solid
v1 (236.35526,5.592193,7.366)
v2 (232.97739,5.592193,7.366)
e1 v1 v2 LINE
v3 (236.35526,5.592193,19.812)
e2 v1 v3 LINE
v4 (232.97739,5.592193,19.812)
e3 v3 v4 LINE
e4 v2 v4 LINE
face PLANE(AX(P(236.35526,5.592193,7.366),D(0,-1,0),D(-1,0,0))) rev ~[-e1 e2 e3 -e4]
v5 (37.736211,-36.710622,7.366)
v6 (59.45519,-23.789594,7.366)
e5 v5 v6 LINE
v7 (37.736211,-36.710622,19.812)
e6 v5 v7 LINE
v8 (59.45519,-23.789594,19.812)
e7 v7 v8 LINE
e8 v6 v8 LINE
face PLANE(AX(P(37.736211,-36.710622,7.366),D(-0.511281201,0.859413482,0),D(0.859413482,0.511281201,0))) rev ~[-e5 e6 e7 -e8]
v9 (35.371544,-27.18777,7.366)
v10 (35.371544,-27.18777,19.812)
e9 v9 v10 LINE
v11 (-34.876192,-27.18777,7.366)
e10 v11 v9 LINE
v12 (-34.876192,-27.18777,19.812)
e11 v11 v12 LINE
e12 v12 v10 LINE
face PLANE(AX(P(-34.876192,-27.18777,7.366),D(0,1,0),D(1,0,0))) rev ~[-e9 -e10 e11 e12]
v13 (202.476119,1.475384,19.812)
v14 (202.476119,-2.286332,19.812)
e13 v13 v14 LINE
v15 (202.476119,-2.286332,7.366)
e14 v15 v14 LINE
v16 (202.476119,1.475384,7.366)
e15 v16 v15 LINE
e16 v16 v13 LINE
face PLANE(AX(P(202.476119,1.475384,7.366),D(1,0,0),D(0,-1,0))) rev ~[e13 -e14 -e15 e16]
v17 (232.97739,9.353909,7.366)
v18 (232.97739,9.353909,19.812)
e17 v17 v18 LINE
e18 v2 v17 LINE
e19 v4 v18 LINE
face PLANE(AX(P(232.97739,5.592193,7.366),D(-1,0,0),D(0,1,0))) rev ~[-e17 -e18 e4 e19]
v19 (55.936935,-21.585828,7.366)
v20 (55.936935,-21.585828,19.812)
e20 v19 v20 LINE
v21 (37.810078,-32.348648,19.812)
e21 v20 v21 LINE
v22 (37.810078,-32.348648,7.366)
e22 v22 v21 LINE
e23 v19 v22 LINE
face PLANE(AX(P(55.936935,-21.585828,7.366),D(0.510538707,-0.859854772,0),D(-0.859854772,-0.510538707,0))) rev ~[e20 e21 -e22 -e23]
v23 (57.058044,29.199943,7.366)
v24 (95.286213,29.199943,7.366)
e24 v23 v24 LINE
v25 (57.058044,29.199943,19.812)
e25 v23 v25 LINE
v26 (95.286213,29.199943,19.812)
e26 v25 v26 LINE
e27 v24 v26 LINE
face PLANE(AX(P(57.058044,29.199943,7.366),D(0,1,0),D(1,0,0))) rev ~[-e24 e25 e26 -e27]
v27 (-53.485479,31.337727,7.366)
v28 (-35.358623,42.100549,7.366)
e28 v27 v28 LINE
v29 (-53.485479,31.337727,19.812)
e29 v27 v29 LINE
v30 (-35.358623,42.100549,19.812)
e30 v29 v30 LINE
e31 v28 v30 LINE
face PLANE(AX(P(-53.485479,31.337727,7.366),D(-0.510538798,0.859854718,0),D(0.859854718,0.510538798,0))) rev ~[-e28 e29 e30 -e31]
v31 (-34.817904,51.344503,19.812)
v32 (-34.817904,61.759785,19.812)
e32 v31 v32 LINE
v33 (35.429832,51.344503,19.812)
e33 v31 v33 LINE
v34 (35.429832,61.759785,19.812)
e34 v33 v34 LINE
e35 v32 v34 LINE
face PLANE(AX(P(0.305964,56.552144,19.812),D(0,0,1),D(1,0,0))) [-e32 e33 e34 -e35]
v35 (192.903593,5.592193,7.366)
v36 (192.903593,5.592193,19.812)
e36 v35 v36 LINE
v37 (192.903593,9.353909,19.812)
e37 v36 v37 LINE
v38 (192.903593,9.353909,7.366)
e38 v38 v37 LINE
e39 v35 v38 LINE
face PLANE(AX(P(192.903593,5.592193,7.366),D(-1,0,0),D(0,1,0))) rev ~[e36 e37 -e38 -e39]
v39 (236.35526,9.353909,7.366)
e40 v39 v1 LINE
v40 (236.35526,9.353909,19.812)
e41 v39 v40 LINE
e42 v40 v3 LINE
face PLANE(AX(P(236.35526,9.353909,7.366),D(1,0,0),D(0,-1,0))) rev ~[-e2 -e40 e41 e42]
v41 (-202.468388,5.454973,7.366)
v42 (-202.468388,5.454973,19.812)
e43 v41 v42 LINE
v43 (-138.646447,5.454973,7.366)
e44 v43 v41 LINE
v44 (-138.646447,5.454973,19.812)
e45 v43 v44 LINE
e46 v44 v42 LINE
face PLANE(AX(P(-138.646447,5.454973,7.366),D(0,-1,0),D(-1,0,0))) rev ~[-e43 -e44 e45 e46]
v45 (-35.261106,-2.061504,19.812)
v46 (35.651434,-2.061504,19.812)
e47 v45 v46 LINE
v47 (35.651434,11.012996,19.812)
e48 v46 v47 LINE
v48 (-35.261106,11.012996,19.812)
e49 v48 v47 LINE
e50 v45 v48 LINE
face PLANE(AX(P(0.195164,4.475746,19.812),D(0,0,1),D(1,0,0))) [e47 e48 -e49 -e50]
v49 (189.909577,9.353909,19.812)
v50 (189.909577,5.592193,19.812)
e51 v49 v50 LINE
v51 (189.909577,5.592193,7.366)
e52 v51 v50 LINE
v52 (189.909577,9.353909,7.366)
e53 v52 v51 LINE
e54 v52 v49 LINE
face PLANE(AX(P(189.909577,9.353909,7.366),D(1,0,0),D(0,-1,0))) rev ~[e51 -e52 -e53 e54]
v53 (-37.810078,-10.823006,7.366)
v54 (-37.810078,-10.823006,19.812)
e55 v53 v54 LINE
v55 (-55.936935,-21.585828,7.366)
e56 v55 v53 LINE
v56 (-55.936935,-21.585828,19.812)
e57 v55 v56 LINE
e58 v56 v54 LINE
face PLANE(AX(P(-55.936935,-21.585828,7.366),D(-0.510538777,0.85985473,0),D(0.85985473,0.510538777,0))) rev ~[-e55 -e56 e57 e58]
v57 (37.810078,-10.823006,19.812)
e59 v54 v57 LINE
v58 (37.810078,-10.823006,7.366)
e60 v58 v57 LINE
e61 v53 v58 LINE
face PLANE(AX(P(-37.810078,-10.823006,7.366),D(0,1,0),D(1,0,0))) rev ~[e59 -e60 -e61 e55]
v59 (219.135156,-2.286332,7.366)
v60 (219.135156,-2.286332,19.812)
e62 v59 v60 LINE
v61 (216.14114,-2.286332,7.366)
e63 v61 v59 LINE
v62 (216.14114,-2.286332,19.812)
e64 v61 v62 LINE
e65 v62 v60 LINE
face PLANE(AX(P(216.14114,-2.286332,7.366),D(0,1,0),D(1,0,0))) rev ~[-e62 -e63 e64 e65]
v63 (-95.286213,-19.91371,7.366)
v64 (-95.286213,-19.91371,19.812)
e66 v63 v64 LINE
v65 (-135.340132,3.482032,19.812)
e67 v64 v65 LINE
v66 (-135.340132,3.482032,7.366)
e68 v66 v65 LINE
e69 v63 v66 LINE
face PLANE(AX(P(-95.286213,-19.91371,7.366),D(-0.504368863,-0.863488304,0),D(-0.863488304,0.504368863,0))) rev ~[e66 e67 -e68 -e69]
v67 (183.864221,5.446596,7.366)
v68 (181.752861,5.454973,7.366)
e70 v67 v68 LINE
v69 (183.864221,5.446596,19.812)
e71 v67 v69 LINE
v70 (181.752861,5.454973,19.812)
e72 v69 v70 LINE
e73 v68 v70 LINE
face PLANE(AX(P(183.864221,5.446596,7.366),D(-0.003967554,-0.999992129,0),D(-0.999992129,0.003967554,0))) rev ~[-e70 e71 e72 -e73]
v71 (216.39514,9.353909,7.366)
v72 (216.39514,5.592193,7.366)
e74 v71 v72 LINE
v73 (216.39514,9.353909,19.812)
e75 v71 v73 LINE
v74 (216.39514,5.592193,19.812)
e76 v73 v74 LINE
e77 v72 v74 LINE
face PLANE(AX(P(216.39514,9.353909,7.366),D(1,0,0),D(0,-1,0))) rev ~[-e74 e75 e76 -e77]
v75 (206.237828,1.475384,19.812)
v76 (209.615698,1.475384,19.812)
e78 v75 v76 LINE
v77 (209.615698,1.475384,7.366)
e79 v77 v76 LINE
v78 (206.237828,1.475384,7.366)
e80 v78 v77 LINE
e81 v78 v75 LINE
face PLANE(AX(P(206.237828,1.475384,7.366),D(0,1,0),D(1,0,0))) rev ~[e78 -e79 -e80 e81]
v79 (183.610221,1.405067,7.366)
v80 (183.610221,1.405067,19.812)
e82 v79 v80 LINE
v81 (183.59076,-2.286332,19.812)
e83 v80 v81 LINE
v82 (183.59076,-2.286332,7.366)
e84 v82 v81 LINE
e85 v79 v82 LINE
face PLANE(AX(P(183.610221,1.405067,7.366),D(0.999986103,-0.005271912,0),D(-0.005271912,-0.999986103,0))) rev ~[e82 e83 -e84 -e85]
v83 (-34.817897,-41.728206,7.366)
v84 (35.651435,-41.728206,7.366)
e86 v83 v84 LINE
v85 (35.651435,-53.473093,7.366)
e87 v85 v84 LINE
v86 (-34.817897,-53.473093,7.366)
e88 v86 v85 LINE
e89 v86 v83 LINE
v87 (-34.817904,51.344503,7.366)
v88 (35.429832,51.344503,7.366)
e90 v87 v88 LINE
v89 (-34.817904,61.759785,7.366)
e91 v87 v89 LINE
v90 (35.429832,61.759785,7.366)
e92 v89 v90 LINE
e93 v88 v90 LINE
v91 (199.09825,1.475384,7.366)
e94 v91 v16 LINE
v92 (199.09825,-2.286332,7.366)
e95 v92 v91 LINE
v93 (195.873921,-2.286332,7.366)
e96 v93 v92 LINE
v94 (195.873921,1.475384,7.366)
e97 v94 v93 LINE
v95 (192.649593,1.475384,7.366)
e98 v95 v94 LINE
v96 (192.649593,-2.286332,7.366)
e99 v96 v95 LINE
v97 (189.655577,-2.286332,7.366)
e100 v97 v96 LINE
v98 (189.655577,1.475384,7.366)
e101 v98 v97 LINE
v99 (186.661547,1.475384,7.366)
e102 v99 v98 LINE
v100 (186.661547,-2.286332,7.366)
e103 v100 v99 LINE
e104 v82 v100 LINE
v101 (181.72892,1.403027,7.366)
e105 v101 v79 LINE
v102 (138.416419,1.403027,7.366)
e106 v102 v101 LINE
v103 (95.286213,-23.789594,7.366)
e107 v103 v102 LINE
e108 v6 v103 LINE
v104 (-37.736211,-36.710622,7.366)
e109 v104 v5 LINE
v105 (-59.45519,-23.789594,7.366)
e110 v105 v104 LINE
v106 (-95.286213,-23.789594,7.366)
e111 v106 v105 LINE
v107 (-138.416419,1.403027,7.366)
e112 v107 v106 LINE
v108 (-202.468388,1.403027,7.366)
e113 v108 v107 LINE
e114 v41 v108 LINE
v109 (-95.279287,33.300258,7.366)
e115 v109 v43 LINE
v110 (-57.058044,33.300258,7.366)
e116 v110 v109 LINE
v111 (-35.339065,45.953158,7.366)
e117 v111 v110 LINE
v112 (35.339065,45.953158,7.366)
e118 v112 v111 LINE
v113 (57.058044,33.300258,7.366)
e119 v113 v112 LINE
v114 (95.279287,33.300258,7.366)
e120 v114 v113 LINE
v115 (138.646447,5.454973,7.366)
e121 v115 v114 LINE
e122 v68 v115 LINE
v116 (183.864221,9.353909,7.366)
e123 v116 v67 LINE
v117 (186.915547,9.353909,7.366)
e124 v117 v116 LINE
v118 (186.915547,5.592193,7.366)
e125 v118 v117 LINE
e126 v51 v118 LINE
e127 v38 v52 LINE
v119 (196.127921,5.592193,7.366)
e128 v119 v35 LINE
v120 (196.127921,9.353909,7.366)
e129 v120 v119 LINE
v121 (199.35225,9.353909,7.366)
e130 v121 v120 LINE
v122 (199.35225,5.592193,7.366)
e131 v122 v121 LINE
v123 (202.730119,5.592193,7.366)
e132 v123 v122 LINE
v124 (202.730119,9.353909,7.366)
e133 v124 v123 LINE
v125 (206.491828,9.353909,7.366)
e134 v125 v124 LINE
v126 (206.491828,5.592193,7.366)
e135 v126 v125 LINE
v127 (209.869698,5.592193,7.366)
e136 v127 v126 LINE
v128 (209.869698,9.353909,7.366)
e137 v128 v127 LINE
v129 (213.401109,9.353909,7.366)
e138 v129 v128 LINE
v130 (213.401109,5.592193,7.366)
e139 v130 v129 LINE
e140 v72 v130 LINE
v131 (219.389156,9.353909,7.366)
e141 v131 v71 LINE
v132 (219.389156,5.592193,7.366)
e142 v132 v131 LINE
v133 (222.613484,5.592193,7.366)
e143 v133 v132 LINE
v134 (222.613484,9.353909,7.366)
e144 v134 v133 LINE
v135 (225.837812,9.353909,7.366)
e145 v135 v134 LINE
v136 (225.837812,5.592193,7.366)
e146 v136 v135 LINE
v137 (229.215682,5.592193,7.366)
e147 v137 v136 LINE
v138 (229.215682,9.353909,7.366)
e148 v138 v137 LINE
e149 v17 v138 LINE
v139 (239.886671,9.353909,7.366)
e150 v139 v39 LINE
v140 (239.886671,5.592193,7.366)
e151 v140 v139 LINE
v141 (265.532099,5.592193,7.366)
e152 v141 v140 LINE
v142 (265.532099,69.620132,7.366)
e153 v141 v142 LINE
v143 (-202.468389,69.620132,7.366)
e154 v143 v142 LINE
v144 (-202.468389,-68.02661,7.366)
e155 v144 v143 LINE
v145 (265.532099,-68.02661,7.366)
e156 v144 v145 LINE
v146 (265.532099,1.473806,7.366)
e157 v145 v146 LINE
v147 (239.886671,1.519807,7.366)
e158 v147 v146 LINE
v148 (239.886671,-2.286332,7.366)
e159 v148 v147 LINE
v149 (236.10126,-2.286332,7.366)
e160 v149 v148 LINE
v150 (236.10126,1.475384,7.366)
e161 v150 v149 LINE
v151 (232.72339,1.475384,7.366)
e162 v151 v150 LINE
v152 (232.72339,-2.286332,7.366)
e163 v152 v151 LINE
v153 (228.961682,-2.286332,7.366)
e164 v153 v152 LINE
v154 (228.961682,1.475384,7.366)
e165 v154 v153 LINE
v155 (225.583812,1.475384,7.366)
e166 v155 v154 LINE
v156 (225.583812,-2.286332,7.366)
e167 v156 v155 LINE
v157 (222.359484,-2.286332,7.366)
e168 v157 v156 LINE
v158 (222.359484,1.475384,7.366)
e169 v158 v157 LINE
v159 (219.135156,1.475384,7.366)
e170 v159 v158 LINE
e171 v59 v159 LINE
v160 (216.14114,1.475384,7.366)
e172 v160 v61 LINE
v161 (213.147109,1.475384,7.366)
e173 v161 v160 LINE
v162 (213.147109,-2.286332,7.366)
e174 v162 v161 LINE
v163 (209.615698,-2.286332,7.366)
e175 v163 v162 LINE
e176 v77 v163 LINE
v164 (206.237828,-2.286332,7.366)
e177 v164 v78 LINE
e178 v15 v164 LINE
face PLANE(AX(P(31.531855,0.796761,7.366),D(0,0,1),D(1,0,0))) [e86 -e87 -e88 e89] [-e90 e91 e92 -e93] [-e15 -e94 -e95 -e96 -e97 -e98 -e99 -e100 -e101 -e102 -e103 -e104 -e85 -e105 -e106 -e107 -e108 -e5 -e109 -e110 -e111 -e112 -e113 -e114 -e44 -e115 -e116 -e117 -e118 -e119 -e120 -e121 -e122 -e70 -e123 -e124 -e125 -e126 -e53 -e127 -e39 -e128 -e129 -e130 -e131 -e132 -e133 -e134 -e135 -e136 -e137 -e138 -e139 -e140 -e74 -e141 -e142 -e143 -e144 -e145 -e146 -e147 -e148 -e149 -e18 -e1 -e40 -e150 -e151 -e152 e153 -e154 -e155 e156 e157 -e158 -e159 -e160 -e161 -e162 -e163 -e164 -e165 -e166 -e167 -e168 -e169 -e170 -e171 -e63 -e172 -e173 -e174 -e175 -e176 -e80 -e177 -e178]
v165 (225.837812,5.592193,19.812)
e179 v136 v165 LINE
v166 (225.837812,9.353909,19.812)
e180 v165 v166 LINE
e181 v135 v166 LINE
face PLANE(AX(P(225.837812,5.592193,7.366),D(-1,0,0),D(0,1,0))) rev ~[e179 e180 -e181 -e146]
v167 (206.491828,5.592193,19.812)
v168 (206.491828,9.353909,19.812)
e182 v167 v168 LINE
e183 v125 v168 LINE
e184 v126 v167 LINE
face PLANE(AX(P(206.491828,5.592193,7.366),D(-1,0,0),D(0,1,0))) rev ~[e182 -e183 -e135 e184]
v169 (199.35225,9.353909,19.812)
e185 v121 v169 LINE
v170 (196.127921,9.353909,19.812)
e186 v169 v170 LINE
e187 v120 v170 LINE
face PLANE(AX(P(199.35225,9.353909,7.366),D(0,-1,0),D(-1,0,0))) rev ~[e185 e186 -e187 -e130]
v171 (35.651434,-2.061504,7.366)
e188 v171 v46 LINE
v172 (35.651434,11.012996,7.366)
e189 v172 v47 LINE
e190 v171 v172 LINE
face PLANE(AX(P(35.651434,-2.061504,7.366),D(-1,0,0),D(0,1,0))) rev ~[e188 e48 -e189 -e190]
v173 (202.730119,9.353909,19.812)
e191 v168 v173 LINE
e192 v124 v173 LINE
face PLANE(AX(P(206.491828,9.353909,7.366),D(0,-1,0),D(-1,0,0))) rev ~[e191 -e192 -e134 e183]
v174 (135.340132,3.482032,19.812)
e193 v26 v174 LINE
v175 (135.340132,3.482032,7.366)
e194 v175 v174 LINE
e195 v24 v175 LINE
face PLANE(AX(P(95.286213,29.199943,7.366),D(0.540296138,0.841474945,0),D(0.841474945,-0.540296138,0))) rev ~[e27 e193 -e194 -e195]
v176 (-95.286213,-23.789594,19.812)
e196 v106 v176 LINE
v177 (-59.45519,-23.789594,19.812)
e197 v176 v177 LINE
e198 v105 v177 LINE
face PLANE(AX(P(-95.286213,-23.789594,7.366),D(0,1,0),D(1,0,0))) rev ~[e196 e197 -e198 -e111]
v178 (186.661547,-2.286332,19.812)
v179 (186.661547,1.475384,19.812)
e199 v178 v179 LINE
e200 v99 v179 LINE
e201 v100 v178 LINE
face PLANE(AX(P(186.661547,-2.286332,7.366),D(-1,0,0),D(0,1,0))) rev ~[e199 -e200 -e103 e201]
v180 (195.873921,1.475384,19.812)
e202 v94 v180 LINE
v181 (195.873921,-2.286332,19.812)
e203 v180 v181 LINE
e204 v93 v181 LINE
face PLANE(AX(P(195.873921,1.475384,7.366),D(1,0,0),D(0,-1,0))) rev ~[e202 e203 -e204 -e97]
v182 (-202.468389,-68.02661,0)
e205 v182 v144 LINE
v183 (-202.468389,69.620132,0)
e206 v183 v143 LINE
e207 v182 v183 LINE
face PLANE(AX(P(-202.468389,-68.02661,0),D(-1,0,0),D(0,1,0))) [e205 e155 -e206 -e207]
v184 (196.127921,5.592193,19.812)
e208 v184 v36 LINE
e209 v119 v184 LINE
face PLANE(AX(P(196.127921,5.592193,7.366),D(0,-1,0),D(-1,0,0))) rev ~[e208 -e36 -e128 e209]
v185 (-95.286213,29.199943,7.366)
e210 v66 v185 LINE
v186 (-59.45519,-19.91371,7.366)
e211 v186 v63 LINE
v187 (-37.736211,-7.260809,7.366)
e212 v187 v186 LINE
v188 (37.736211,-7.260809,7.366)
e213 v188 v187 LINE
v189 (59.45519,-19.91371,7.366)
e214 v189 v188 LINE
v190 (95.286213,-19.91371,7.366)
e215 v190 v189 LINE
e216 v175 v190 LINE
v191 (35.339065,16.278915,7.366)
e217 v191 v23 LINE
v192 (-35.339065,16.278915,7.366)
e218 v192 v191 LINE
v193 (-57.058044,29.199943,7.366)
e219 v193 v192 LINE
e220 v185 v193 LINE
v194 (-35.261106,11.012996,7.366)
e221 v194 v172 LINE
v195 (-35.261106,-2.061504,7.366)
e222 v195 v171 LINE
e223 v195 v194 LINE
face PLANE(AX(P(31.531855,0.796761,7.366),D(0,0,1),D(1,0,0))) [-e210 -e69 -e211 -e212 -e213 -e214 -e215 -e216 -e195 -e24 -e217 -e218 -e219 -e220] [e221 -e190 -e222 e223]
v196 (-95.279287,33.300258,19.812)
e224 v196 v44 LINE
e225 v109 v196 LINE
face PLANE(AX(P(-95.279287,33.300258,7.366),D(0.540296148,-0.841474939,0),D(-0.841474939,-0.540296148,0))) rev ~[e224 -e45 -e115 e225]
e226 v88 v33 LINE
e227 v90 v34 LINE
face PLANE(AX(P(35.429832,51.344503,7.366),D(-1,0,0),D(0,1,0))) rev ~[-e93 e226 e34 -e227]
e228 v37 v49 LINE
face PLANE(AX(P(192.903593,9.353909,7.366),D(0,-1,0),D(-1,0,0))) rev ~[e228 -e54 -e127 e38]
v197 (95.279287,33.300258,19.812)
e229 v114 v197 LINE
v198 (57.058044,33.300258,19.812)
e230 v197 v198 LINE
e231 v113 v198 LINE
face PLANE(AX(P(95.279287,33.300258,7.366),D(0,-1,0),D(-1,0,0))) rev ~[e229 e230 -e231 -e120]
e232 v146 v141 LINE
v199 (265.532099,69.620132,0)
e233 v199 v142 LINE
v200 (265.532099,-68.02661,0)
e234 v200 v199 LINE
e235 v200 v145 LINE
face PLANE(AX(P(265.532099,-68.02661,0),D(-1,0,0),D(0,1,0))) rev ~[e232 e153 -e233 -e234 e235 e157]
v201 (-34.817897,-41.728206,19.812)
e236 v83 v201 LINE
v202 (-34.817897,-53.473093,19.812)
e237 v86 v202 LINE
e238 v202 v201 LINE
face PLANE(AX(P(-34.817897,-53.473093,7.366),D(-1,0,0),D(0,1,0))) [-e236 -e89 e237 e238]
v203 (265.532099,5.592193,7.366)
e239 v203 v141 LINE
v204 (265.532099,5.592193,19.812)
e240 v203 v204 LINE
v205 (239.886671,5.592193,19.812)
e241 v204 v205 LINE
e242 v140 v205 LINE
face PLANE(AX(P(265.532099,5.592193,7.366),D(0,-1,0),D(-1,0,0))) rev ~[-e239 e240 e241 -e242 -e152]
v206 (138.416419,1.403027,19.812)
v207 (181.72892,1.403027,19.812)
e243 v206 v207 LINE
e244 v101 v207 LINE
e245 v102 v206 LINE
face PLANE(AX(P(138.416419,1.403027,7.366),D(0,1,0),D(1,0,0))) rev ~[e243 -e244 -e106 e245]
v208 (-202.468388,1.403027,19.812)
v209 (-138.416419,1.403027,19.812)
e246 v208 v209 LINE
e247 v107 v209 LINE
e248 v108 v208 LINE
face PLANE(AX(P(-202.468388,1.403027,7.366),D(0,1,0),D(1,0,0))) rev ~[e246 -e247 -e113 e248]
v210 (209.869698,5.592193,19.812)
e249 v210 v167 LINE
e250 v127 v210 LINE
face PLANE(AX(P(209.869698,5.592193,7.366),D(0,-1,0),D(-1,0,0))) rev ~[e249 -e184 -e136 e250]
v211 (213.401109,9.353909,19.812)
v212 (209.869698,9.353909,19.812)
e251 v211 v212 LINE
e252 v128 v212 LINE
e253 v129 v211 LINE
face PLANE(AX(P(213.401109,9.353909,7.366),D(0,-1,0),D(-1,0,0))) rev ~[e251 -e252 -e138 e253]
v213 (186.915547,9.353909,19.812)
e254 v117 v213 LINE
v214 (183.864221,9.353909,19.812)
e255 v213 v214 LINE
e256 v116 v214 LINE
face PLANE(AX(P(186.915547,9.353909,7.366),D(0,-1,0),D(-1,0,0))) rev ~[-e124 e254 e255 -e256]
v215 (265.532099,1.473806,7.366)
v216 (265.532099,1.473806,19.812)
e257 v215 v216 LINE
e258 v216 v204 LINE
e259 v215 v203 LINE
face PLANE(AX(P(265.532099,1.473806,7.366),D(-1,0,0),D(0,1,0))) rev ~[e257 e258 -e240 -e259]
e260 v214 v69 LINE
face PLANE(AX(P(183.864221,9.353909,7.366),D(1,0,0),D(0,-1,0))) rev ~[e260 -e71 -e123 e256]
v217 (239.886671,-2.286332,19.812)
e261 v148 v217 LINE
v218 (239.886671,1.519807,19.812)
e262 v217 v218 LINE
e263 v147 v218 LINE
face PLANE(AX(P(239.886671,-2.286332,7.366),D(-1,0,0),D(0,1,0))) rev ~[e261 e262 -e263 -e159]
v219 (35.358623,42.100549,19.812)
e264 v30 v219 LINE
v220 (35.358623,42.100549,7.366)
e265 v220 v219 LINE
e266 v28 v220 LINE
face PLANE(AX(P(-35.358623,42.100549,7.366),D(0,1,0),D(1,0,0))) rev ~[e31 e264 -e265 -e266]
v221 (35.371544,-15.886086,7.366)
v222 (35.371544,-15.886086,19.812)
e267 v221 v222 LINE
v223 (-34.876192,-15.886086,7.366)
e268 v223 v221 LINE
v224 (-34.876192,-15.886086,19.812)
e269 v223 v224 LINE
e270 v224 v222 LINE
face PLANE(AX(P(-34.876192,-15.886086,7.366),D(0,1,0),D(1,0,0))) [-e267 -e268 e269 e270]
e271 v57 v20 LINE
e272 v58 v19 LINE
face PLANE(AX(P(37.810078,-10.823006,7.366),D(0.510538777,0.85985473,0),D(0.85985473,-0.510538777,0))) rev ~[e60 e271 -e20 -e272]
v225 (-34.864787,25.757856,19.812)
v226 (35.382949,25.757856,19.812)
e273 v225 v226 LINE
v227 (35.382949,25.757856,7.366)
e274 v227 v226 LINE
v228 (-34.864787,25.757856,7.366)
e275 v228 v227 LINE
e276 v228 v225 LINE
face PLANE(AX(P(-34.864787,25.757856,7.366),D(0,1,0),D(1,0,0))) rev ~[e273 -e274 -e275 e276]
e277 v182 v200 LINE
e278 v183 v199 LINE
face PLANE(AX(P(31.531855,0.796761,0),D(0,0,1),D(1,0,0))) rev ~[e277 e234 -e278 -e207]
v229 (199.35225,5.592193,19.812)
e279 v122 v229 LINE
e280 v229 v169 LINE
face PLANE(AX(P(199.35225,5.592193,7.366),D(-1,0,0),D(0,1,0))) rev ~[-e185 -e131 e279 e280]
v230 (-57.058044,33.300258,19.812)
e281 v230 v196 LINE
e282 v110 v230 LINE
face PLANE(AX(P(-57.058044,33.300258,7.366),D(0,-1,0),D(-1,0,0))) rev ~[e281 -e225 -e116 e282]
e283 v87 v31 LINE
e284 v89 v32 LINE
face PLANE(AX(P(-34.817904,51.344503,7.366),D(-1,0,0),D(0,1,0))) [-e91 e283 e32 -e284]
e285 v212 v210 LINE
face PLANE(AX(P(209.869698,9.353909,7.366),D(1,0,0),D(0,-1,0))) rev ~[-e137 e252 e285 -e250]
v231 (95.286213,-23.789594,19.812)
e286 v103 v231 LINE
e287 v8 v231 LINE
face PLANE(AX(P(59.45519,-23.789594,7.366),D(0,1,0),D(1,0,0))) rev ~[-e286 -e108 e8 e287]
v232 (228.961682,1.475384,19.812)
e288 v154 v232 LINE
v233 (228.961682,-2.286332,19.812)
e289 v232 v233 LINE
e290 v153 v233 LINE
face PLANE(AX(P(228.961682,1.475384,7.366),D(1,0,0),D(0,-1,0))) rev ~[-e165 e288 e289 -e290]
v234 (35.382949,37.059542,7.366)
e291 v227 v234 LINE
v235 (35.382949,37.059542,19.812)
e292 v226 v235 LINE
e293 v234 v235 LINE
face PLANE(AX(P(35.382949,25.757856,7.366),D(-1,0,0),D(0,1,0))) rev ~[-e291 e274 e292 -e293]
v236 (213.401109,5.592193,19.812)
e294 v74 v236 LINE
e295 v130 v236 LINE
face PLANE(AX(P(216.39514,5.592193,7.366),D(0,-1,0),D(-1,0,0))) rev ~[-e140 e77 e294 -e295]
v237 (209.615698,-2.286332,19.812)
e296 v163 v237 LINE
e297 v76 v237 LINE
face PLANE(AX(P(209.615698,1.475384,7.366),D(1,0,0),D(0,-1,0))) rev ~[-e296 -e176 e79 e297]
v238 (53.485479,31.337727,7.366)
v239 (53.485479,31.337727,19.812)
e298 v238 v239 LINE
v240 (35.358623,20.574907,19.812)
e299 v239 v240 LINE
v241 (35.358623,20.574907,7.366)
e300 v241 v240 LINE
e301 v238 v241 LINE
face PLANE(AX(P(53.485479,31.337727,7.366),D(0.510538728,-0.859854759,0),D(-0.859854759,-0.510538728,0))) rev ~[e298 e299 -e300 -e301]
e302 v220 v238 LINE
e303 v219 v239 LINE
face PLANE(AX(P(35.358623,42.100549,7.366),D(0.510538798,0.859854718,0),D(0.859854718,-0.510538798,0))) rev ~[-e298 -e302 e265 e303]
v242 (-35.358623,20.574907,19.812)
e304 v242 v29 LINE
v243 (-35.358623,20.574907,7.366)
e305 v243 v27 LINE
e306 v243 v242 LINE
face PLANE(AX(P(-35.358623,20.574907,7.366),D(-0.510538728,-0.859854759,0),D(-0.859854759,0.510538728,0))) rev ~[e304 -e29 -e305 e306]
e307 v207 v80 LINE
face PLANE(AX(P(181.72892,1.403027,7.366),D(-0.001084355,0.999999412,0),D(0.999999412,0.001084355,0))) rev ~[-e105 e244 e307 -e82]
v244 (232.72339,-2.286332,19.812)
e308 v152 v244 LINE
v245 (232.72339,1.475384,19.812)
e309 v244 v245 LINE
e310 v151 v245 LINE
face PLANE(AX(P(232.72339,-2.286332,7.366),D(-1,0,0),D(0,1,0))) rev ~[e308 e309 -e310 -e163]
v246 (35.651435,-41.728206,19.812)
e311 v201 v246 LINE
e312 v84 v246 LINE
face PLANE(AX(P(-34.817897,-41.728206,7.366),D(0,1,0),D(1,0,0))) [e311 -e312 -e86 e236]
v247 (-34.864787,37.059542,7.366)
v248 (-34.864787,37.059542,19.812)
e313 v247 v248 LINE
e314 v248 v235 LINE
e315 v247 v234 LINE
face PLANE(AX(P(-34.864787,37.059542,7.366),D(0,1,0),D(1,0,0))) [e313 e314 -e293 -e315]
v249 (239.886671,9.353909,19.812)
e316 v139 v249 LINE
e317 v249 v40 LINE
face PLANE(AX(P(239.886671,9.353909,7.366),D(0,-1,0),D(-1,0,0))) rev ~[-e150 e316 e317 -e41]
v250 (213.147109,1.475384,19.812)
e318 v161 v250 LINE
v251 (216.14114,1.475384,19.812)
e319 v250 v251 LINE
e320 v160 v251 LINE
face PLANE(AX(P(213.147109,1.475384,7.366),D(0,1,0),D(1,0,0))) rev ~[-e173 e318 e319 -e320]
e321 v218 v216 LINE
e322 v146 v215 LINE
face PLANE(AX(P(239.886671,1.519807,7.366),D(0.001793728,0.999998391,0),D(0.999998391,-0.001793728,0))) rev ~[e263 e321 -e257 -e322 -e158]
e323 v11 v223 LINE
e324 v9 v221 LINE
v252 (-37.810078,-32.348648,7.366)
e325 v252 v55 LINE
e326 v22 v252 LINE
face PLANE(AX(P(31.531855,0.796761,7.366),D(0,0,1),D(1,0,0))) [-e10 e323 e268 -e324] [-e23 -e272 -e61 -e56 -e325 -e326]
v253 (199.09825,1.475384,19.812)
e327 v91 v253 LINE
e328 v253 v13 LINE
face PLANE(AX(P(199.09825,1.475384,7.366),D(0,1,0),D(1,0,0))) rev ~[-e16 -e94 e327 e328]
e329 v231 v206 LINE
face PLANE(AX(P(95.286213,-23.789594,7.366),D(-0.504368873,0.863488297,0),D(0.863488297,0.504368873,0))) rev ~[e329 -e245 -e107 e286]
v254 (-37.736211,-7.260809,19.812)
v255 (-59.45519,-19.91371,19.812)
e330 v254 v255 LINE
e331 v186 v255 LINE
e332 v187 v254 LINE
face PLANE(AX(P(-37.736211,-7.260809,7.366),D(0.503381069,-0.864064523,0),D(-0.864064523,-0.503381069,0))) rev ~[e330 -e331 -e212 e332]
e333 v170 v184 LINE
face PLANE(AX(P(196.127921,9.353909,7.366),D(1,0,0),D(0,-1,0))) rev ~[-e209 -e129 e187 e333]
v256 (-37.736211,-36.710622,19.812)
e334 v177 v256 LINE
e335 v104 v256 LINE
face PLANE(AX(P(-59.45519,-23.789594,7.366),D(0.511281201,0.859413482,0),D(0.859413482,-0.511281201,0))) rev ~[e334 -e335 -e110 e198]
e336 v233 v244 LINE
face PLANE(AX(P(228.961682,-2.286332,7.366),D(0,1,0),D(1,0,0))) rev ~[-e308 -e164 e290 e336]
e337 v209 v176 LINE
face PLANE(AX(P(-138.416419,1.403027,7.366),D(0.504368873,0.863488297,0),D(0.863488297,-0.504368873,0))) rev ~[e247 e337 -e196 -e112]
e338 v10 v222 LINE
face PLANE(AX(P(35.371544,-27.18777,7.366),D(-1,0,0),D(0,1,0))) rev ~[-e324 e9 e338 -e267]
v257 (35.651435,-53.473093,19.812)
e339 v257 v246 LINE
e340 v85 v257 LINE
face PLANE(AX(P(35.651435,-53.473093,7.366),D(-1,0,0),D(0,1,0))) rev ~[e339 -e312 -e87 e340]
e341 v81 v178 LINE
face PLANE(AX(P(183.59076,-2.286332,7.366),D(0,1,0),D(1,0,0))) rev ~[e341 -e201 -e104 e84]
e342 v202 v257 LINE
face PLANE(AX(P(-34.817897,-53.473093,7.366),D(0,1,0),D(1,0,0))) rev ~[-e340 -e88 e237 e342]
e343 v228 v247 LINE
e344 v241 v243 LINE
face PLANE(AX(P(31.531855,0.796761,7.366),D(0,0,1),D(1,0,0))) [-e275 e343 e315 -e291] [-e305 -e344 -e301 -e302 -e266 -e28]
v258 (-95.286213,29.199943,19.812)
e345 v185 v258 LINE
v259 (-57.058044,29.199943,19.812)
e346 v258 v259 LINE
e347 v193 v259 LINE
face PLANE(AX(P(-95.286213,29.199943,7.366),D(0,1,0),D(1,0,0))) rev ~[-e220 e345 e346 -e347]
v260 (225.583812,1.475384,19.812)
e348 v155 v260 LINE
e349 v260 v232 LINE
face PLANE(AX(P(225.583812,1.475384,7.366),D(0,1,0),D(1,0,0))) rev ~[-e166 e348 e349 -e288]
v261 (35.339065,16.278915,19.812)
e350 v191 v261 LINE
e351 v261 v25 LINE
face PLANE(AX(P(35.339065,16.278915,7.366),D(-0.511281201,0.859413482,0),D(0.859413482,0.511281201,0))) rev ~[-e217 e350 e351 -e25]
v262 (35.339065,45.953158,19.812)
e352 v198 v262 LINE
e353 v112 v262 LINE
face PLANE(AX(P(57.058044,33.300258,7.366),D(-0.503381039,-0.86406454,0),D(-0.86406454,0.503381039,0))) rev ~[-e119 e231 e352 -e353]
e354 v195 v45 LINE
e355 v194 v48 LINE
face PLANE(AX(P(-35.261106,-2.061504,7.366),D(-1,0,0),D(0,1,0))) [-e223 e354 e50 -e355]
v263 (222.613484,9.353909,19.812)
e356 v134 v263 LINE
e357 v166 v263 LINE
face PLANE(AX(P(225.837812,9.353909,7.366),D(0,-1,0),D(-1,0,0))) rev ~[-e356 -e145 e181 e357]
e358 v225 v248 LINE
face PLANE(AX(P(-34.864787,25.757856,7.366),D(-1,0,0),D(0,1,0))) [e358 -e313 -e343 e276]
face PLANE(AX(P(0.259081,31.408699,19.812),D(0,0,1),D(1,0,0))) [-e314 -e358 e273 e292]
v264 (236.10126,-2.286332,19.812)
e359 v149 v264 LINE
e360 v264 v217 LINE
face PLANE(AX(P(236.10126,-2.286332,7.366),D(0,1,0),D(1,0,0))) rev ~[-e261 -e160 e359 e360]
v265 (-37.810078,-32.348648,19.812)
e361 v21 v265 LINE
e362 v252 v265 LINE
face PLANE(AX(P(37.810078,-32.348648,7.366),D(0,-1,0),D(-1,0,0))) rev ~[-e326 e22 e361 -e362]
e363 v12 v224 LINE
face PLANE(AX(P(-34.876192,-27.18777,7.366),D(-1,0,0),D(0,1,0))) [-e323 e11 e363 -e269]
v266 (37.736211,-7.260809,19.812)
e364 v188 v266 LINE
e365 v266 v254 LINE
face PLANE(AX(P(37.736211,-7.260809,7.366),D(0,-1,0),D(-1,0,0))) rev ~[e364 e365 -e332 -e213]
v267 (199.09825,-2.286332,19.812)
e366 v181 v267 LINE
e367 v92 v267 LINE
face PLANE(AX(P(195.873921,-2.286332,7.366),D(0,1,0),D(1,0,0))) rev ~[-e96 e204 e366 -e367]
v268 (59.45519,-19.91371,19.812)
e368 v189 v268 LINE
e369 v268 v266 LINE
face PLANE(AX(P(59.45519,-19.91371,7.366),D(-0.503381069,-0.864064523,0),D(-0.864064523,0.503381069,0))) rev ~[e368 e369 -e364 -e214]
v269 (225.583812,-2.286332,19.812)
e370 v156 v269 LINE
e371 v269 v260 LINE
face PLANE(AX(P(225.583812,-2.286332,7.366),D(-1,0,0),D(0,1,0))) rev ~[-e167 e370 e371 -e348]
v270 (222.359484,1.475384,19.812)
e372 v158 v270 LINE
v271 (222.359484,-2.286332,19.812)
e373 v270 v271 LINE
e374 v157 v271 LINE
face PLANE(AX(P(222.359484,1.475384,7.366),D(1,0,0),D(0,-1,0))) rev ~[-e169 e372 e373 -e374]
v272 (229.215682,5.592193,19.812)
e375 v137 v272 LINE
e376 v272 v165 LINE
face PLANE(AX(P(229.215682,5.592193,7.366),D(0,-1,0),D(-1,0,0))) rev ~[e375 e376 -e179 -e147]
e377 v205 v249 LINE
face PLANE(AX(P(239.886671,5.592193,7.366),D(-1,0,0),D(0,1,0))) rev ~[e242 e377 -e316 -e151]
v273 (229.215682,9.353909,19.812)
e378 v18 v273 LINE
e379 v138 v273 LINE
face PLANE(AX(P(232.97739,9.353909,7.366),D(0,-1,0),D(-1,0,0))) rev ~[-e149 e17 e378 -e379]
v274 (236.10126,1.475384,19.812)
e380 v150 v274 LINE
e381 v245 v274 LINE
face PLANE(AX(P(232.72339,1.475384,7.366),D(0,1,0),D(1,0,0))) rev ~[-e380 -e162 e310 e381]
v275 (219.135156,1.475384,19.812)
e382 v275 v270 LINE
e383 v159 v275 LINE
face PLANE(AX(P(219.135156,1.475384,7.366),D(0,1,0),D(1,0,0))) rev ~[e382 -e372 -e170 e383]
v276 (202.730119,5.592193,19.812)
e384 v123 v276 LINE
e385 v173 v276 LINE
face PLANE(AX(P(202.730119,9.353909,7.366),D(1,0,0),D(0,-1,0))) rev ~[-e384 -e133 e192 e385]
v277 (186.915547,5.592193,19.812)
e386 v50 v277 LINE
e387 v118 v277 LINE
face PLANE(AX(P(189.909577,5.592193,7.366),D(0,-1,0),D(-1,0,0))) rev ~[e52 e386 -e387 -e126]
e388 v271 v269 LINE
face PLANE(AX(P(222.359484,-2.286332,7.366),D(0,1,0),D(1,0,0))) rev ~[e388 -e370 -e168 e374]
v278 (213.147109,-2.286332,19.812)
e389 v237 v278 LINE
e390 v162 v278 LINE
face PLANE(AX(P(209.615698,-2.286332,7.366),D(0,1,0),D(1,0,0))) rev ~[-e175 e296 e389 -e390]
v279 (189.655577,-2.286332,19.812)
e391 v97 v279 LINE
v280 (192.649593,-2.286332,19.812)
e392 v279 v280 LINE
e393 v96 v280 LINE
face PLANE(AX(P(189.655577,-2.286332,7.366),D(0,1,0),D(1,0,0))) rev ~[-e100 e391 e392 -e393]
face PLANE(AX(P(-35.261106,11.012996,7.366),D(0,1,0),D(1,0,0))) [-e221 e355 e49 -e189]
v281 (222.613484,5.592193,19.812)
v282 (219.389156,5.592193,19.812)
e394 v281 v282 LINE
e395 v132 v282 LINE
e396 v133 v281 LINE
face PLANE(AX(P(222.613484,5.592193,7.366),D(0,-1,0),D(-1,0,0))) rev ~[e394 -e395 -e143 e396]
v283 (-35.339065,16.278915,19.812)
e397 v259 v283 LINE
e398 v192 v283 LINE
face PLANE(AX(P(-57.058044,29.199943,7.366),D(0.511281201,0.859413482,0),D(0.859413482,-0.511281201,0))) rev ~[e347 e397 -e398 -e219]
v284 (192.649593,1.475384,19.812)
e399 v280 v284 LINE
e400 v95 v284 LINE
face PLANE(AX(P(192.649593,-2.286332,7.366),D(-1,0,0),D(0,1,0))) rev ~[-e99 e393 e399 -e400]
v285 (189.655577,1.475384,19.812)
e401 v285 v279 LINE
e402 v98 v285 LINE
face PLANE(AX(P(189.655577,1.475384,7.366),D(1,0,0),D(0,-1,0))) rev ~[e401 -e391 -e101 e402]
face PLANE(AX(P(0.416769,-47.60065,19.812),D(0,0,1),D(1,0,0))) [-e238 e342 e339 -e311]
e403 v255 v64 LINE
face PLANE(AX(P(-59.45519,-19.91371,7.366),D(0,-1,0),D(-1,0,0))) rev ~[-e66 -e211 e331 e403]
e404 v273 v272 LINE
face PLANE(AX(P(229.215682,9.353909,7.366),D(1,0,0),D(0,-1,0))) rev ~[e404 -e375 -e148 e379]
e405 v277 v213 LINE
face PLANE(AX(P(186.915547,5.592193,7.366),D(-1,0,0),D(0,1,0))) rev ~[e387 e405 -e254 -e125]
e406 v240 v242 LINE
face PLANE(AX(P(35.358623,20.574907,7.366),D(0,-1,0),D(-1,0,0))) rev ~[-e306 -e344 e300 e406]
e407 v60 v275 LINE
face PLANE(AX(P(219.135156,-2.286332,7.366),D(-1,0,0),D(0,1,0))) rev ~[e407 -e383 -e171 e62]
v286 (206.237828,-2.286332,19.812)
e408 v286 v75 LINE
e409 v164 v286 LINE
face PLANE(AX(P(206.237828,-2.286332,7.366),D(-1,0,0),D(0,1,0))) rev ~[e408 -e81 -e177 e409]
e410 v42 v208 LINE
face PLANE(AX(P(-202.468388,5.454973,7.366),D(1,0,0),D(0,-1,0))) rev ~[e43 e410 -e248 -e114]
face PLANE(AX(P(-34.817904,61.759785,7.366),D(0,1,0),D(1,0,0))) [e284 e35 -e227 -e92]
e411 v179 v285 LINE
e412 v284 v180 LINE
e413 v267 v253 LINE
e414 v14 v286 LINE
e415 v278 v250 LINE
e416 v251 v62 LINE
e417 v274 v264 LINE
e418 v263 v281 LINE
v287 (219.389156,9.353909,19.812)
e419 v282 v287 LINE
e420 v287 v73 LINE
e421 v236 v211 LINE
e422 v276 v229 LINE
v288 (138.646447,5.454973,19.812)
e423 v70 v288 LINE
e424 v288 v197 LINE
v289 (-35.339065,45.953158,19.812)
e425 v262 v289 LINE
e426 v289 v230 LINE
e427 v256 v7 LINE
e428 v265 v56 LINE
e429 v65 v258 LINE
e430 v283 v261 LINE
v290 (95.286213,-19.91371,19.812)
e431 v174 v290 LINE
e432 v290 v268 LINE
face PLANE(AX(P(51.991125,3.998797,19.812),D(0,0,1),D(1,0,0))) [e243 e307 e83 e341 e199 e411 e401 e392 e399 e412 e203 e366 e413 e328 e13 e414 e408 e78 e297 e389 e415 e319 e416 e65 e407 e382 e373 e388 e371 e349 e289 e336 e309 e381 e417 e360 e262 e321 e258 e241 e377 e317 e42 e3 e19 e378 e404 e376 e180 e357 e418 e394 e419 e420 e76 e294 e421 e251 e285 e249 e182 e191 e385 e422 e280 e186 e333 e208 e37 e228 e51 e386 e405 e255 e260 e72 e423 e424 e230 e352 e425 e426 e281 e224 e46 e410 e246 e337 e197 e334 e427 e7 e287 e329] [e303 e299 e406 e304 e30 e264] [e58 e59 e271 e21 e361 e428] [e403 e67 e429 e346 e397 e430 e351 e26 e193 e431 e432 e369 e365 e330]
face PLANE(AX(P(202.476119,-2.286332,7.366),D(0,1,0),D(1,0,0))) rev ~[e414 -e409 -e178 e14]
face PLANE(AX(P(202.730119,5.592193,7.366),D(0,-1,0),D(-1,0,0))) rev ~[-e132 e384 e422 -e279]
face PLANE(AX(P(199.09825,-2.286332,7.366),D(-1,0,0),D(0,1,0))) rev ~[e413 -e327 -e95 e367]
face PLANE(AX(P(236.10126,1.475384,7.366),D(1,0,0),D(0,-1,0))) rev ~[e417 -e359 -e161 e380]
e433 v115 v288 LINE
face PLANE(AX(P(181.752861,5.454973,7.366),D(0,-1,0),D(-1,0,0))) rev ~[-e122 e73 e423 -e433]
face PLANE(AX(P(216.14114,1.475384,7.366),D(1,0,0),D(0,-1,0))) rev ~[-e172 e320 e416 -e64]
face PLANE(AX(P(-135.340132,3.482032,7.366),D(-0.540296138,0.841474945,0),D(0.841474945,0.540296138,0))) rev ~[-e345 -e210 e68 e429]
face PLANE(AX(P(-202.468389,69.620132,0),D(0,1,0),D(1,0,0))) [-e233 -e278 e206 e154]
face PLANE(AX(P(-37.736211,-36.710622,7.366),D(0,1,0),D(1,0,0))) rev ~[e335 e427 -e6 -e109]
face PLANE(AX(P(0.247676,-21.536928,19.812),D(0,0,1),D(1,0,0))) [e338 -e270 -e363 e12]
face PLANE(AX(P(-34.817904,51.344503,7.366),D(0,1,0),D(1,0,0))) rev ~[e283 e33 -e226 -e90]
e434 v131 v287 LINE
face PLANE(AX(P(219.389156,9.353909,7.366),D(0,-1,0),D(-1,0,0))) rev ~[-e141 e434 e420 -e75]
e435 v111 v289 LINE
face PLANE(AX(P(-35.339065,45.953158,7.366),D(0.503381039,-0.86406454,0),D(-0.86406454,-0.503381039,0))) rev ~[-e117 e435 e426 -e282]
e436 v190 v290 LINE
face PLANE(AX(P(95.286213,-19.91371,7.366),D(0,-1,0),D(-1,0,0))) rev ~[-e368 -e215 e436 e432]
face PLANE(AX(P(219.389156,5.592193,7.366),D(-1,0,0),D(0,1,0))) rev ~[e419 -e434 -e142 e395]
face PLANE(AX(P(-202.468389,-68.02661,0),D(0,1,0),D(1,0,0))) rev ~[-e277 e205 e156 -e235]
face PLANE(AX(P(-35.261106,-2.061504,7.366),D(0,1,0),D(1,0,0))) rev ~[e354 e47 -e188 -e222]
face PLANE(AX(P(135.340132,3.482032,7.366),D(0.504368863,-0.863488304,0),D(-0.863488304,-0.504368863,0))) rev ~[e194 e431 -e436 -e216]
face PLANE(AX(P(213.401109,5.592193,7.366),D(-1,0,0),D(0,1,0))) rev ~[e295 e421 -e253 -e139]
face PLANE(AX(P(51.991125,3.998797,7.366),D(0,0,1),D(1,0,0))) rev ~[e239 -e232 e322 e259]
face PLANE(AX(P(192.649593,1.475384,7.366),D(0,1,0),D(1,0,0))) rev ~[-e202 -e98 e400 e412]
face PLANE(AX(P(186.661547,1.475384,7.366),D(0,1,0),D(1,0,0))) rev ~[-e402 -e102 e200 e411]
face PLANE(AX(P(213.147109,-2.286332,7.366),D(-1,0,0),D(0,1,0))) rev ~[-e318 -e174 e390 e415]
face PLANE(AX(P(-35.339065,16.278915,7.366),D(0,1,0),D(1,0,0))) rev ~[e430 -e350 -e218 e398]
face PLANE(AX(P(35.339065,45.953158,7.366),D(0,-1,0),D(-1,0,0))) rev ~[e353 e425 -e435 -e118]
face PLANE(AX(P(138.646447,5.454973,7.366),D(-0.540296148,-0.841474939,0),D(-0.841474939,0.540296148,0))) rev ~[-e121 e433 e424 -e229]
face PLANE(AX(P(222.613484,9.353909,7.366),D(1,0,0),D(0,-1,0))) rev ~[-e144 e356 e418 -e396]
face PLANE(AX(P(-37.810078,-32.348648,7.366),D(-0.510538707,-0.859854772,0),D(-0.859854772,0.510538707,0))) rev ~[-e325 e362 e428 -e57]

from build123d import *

# Parameters (mm, degrees)
F0_W     = 468.000487
F0_H     = 137.646742
F1_DEPTH = 7.366
F2_W     = 70.247736
F2_H     = 10.415282
F2_W_2   = 70.469331
F2_H_2   = 11.744887
F2_H_3   = 11.301685
F2_W_3   = 70.91254
F2_H_4   = 13.074499
F3_DEPTH = 12.446


with BuildPart() as f1:
    # F0 (on Top) → F1 (new body)
    with BuildSketch(Plane.XY):
        with Locations((31.531855, 0.796761)):
            Rectangle(F0_W, F0_H)
    extrude(amount=F1_DEPTH)

    # F2 (on face) → F3 (join)
    with BuildSketch(Plane.XY.offset(7.366)):
        Polygon((-138.646447, 5.454973), (-156.350389, 5.454973), (-202.468388, 5.454973), (-202.468388, 1.403027), (-156.604389, 1.403027), (-138.416419, 1.403027), (-95.286213, -23.789594), (-59.45519, -23.789594), (-37.736211, -36.710622), (0, -36.710622), (37.736211, -36.710622), (59.45519, -23.789594), (95.286213, -23.789594), (138.416419, 1.403027), (156.604389, 1.403027), (181.72892, 1.403027), (183.610221, 1.405067), (183.59076, -2.286332), (186.661547, -2.286332), (186.661547, 1.475384), (189.655577, 1.475384), (189.655577, -2.286332), (192.649593, -2.286332), (192.649593, 1.475384), (195.873921, 1.475384), (195.873921, -2.286332), (199.09825, -2.286332), (199.09825, 1.475384), (202.476119, 1.475384), (202.476119, -2.286332), (206.237828, -2.286332), (206.237828, 1.475384), (209.615698, 1.475384), (209.615698, -2.286332), (213.147109, -2.286332), (213.147109, 1.475384), (216.14114, 1.475384), (216.14114, -2.286332), (219.135156, -2.286332), (219.135156, 1.475384), (222.359484, 1.475384), (222.359484, -2.286332), (225.583812, -2.286332), (225.583812, 1.475384), (228.961682, 1.475384), (228.961682, -2.286332), (232.72339, -2.286332), (232.72339, 1.475384), (236.10126, 1.475384), (236.10126, -2.286332), (239.886671, -2.286332), (239.886671, 1.519807), (265.532099, 1.473806), (265.532099, 5.592193), (239.886671, 5.592193), (239.886671, 9.353909), (236.35526, 9.353909), (236.35526, 5.592193), (232.97739, 5.592193), (232.97739, 9.353909), (229.215682, 9.353909), (229.215682, 5.592193), (225.837812, 5.592193), (225.837812, 9.353909), (222.613484, 9.353909), (222.613484, 5.592193), (219.389156, 5.592193), (219.389156, 9.353909), (216.39514, 9.353909), (216.39514, 5.592193), (213.401109, 5.592193), (213.401109, 9.353909), (209.869698, 9.353909), (209.869698, 5.592193), (206.491828, 5.592193), (206.491828, 9.353909), (202.730119, 9.353909), (202.730119, 5.592193), (199.35225, 5.592193), (199.35225, 9.353909), (196.127921, 9.353909), (196.127921, 5.592193), (192.903593, 5.592193), (192.903593, 9.353909), (189.909577, 9.353909), (189.909577, 5.592193), (186.915547, 5.592193), (186.915547, 9.353909), (183.864221, 9.353909), (183.864221, 5.446596), (181.752861, 5.454973), (156.350389, 5.454973), (138.646447, 5.454973), (95.279287, 33.300258), (57.058044, 33.300258), (35.339065, 45.953158), (0, 45.953158), (-35.339065, 45.953158), (-57.058044, 33.300258), (-95.279287, 33.300258), align=None)
        Polygon((-37.810078, -32.348648), (-55.936935, -21.585828), (-37.810078, -10.823006), (0, -10.823006), (37.810078, -10.823006), (55.936935, -21.585828), (37.810078, -32.348648), (0, -32.348648), align=None, mode=Mode.SUBTRACT)
        Polygon((-135.340132, 3.482032), (-95.286213, 29.199943), (-57.058044, 29.199943), (-35.339065, 16.278915), (0, 16.278915), (35.339065, 16.278915), (57.058044, 29.199943), (95.286213, 29.199943), (135.340132, 3.482032), (95.286213, -19.91371), (59.45519, -19.91371), (37.736211, -7.260809), (0, -7.260809), (-37.736211, -7.260809), (-59.45519, -19.91371), (-95.286213, -19.91371), align=None, mode=Mode.SUBTRACT)
        Polygon((-35.358623, 20.574907), (-53.485479, 31.337727), (-35.358623, 42.100549), (0, 42.100549), (35.358623, 42.100549), (53.485479, 31.337727), (35.358623, 20.574907), (0, 20.574907), align=None, mode=Mode.SUBTRACT)
        with Locations((0.305964, 56.552144)):
            Rectangle(F2_W, F2_H)
        with Locations((0.416769, -47.60065)):
            Rectangle(F2_W_2, F2_H_2)
        with Locations((0.259081, 31.408699)):
            Rectangle(F2_W, F2_H_3)
        with Locations((0.195164, 4.475746)):
            Rectangle(F2_W_3, F2_H_4)
        with Locations((0.247676, -21.536928)):
            Rectangle(F2_W, F2_H_3)
    extrude(amount=F3_DEPTH)


solid = f1.part
